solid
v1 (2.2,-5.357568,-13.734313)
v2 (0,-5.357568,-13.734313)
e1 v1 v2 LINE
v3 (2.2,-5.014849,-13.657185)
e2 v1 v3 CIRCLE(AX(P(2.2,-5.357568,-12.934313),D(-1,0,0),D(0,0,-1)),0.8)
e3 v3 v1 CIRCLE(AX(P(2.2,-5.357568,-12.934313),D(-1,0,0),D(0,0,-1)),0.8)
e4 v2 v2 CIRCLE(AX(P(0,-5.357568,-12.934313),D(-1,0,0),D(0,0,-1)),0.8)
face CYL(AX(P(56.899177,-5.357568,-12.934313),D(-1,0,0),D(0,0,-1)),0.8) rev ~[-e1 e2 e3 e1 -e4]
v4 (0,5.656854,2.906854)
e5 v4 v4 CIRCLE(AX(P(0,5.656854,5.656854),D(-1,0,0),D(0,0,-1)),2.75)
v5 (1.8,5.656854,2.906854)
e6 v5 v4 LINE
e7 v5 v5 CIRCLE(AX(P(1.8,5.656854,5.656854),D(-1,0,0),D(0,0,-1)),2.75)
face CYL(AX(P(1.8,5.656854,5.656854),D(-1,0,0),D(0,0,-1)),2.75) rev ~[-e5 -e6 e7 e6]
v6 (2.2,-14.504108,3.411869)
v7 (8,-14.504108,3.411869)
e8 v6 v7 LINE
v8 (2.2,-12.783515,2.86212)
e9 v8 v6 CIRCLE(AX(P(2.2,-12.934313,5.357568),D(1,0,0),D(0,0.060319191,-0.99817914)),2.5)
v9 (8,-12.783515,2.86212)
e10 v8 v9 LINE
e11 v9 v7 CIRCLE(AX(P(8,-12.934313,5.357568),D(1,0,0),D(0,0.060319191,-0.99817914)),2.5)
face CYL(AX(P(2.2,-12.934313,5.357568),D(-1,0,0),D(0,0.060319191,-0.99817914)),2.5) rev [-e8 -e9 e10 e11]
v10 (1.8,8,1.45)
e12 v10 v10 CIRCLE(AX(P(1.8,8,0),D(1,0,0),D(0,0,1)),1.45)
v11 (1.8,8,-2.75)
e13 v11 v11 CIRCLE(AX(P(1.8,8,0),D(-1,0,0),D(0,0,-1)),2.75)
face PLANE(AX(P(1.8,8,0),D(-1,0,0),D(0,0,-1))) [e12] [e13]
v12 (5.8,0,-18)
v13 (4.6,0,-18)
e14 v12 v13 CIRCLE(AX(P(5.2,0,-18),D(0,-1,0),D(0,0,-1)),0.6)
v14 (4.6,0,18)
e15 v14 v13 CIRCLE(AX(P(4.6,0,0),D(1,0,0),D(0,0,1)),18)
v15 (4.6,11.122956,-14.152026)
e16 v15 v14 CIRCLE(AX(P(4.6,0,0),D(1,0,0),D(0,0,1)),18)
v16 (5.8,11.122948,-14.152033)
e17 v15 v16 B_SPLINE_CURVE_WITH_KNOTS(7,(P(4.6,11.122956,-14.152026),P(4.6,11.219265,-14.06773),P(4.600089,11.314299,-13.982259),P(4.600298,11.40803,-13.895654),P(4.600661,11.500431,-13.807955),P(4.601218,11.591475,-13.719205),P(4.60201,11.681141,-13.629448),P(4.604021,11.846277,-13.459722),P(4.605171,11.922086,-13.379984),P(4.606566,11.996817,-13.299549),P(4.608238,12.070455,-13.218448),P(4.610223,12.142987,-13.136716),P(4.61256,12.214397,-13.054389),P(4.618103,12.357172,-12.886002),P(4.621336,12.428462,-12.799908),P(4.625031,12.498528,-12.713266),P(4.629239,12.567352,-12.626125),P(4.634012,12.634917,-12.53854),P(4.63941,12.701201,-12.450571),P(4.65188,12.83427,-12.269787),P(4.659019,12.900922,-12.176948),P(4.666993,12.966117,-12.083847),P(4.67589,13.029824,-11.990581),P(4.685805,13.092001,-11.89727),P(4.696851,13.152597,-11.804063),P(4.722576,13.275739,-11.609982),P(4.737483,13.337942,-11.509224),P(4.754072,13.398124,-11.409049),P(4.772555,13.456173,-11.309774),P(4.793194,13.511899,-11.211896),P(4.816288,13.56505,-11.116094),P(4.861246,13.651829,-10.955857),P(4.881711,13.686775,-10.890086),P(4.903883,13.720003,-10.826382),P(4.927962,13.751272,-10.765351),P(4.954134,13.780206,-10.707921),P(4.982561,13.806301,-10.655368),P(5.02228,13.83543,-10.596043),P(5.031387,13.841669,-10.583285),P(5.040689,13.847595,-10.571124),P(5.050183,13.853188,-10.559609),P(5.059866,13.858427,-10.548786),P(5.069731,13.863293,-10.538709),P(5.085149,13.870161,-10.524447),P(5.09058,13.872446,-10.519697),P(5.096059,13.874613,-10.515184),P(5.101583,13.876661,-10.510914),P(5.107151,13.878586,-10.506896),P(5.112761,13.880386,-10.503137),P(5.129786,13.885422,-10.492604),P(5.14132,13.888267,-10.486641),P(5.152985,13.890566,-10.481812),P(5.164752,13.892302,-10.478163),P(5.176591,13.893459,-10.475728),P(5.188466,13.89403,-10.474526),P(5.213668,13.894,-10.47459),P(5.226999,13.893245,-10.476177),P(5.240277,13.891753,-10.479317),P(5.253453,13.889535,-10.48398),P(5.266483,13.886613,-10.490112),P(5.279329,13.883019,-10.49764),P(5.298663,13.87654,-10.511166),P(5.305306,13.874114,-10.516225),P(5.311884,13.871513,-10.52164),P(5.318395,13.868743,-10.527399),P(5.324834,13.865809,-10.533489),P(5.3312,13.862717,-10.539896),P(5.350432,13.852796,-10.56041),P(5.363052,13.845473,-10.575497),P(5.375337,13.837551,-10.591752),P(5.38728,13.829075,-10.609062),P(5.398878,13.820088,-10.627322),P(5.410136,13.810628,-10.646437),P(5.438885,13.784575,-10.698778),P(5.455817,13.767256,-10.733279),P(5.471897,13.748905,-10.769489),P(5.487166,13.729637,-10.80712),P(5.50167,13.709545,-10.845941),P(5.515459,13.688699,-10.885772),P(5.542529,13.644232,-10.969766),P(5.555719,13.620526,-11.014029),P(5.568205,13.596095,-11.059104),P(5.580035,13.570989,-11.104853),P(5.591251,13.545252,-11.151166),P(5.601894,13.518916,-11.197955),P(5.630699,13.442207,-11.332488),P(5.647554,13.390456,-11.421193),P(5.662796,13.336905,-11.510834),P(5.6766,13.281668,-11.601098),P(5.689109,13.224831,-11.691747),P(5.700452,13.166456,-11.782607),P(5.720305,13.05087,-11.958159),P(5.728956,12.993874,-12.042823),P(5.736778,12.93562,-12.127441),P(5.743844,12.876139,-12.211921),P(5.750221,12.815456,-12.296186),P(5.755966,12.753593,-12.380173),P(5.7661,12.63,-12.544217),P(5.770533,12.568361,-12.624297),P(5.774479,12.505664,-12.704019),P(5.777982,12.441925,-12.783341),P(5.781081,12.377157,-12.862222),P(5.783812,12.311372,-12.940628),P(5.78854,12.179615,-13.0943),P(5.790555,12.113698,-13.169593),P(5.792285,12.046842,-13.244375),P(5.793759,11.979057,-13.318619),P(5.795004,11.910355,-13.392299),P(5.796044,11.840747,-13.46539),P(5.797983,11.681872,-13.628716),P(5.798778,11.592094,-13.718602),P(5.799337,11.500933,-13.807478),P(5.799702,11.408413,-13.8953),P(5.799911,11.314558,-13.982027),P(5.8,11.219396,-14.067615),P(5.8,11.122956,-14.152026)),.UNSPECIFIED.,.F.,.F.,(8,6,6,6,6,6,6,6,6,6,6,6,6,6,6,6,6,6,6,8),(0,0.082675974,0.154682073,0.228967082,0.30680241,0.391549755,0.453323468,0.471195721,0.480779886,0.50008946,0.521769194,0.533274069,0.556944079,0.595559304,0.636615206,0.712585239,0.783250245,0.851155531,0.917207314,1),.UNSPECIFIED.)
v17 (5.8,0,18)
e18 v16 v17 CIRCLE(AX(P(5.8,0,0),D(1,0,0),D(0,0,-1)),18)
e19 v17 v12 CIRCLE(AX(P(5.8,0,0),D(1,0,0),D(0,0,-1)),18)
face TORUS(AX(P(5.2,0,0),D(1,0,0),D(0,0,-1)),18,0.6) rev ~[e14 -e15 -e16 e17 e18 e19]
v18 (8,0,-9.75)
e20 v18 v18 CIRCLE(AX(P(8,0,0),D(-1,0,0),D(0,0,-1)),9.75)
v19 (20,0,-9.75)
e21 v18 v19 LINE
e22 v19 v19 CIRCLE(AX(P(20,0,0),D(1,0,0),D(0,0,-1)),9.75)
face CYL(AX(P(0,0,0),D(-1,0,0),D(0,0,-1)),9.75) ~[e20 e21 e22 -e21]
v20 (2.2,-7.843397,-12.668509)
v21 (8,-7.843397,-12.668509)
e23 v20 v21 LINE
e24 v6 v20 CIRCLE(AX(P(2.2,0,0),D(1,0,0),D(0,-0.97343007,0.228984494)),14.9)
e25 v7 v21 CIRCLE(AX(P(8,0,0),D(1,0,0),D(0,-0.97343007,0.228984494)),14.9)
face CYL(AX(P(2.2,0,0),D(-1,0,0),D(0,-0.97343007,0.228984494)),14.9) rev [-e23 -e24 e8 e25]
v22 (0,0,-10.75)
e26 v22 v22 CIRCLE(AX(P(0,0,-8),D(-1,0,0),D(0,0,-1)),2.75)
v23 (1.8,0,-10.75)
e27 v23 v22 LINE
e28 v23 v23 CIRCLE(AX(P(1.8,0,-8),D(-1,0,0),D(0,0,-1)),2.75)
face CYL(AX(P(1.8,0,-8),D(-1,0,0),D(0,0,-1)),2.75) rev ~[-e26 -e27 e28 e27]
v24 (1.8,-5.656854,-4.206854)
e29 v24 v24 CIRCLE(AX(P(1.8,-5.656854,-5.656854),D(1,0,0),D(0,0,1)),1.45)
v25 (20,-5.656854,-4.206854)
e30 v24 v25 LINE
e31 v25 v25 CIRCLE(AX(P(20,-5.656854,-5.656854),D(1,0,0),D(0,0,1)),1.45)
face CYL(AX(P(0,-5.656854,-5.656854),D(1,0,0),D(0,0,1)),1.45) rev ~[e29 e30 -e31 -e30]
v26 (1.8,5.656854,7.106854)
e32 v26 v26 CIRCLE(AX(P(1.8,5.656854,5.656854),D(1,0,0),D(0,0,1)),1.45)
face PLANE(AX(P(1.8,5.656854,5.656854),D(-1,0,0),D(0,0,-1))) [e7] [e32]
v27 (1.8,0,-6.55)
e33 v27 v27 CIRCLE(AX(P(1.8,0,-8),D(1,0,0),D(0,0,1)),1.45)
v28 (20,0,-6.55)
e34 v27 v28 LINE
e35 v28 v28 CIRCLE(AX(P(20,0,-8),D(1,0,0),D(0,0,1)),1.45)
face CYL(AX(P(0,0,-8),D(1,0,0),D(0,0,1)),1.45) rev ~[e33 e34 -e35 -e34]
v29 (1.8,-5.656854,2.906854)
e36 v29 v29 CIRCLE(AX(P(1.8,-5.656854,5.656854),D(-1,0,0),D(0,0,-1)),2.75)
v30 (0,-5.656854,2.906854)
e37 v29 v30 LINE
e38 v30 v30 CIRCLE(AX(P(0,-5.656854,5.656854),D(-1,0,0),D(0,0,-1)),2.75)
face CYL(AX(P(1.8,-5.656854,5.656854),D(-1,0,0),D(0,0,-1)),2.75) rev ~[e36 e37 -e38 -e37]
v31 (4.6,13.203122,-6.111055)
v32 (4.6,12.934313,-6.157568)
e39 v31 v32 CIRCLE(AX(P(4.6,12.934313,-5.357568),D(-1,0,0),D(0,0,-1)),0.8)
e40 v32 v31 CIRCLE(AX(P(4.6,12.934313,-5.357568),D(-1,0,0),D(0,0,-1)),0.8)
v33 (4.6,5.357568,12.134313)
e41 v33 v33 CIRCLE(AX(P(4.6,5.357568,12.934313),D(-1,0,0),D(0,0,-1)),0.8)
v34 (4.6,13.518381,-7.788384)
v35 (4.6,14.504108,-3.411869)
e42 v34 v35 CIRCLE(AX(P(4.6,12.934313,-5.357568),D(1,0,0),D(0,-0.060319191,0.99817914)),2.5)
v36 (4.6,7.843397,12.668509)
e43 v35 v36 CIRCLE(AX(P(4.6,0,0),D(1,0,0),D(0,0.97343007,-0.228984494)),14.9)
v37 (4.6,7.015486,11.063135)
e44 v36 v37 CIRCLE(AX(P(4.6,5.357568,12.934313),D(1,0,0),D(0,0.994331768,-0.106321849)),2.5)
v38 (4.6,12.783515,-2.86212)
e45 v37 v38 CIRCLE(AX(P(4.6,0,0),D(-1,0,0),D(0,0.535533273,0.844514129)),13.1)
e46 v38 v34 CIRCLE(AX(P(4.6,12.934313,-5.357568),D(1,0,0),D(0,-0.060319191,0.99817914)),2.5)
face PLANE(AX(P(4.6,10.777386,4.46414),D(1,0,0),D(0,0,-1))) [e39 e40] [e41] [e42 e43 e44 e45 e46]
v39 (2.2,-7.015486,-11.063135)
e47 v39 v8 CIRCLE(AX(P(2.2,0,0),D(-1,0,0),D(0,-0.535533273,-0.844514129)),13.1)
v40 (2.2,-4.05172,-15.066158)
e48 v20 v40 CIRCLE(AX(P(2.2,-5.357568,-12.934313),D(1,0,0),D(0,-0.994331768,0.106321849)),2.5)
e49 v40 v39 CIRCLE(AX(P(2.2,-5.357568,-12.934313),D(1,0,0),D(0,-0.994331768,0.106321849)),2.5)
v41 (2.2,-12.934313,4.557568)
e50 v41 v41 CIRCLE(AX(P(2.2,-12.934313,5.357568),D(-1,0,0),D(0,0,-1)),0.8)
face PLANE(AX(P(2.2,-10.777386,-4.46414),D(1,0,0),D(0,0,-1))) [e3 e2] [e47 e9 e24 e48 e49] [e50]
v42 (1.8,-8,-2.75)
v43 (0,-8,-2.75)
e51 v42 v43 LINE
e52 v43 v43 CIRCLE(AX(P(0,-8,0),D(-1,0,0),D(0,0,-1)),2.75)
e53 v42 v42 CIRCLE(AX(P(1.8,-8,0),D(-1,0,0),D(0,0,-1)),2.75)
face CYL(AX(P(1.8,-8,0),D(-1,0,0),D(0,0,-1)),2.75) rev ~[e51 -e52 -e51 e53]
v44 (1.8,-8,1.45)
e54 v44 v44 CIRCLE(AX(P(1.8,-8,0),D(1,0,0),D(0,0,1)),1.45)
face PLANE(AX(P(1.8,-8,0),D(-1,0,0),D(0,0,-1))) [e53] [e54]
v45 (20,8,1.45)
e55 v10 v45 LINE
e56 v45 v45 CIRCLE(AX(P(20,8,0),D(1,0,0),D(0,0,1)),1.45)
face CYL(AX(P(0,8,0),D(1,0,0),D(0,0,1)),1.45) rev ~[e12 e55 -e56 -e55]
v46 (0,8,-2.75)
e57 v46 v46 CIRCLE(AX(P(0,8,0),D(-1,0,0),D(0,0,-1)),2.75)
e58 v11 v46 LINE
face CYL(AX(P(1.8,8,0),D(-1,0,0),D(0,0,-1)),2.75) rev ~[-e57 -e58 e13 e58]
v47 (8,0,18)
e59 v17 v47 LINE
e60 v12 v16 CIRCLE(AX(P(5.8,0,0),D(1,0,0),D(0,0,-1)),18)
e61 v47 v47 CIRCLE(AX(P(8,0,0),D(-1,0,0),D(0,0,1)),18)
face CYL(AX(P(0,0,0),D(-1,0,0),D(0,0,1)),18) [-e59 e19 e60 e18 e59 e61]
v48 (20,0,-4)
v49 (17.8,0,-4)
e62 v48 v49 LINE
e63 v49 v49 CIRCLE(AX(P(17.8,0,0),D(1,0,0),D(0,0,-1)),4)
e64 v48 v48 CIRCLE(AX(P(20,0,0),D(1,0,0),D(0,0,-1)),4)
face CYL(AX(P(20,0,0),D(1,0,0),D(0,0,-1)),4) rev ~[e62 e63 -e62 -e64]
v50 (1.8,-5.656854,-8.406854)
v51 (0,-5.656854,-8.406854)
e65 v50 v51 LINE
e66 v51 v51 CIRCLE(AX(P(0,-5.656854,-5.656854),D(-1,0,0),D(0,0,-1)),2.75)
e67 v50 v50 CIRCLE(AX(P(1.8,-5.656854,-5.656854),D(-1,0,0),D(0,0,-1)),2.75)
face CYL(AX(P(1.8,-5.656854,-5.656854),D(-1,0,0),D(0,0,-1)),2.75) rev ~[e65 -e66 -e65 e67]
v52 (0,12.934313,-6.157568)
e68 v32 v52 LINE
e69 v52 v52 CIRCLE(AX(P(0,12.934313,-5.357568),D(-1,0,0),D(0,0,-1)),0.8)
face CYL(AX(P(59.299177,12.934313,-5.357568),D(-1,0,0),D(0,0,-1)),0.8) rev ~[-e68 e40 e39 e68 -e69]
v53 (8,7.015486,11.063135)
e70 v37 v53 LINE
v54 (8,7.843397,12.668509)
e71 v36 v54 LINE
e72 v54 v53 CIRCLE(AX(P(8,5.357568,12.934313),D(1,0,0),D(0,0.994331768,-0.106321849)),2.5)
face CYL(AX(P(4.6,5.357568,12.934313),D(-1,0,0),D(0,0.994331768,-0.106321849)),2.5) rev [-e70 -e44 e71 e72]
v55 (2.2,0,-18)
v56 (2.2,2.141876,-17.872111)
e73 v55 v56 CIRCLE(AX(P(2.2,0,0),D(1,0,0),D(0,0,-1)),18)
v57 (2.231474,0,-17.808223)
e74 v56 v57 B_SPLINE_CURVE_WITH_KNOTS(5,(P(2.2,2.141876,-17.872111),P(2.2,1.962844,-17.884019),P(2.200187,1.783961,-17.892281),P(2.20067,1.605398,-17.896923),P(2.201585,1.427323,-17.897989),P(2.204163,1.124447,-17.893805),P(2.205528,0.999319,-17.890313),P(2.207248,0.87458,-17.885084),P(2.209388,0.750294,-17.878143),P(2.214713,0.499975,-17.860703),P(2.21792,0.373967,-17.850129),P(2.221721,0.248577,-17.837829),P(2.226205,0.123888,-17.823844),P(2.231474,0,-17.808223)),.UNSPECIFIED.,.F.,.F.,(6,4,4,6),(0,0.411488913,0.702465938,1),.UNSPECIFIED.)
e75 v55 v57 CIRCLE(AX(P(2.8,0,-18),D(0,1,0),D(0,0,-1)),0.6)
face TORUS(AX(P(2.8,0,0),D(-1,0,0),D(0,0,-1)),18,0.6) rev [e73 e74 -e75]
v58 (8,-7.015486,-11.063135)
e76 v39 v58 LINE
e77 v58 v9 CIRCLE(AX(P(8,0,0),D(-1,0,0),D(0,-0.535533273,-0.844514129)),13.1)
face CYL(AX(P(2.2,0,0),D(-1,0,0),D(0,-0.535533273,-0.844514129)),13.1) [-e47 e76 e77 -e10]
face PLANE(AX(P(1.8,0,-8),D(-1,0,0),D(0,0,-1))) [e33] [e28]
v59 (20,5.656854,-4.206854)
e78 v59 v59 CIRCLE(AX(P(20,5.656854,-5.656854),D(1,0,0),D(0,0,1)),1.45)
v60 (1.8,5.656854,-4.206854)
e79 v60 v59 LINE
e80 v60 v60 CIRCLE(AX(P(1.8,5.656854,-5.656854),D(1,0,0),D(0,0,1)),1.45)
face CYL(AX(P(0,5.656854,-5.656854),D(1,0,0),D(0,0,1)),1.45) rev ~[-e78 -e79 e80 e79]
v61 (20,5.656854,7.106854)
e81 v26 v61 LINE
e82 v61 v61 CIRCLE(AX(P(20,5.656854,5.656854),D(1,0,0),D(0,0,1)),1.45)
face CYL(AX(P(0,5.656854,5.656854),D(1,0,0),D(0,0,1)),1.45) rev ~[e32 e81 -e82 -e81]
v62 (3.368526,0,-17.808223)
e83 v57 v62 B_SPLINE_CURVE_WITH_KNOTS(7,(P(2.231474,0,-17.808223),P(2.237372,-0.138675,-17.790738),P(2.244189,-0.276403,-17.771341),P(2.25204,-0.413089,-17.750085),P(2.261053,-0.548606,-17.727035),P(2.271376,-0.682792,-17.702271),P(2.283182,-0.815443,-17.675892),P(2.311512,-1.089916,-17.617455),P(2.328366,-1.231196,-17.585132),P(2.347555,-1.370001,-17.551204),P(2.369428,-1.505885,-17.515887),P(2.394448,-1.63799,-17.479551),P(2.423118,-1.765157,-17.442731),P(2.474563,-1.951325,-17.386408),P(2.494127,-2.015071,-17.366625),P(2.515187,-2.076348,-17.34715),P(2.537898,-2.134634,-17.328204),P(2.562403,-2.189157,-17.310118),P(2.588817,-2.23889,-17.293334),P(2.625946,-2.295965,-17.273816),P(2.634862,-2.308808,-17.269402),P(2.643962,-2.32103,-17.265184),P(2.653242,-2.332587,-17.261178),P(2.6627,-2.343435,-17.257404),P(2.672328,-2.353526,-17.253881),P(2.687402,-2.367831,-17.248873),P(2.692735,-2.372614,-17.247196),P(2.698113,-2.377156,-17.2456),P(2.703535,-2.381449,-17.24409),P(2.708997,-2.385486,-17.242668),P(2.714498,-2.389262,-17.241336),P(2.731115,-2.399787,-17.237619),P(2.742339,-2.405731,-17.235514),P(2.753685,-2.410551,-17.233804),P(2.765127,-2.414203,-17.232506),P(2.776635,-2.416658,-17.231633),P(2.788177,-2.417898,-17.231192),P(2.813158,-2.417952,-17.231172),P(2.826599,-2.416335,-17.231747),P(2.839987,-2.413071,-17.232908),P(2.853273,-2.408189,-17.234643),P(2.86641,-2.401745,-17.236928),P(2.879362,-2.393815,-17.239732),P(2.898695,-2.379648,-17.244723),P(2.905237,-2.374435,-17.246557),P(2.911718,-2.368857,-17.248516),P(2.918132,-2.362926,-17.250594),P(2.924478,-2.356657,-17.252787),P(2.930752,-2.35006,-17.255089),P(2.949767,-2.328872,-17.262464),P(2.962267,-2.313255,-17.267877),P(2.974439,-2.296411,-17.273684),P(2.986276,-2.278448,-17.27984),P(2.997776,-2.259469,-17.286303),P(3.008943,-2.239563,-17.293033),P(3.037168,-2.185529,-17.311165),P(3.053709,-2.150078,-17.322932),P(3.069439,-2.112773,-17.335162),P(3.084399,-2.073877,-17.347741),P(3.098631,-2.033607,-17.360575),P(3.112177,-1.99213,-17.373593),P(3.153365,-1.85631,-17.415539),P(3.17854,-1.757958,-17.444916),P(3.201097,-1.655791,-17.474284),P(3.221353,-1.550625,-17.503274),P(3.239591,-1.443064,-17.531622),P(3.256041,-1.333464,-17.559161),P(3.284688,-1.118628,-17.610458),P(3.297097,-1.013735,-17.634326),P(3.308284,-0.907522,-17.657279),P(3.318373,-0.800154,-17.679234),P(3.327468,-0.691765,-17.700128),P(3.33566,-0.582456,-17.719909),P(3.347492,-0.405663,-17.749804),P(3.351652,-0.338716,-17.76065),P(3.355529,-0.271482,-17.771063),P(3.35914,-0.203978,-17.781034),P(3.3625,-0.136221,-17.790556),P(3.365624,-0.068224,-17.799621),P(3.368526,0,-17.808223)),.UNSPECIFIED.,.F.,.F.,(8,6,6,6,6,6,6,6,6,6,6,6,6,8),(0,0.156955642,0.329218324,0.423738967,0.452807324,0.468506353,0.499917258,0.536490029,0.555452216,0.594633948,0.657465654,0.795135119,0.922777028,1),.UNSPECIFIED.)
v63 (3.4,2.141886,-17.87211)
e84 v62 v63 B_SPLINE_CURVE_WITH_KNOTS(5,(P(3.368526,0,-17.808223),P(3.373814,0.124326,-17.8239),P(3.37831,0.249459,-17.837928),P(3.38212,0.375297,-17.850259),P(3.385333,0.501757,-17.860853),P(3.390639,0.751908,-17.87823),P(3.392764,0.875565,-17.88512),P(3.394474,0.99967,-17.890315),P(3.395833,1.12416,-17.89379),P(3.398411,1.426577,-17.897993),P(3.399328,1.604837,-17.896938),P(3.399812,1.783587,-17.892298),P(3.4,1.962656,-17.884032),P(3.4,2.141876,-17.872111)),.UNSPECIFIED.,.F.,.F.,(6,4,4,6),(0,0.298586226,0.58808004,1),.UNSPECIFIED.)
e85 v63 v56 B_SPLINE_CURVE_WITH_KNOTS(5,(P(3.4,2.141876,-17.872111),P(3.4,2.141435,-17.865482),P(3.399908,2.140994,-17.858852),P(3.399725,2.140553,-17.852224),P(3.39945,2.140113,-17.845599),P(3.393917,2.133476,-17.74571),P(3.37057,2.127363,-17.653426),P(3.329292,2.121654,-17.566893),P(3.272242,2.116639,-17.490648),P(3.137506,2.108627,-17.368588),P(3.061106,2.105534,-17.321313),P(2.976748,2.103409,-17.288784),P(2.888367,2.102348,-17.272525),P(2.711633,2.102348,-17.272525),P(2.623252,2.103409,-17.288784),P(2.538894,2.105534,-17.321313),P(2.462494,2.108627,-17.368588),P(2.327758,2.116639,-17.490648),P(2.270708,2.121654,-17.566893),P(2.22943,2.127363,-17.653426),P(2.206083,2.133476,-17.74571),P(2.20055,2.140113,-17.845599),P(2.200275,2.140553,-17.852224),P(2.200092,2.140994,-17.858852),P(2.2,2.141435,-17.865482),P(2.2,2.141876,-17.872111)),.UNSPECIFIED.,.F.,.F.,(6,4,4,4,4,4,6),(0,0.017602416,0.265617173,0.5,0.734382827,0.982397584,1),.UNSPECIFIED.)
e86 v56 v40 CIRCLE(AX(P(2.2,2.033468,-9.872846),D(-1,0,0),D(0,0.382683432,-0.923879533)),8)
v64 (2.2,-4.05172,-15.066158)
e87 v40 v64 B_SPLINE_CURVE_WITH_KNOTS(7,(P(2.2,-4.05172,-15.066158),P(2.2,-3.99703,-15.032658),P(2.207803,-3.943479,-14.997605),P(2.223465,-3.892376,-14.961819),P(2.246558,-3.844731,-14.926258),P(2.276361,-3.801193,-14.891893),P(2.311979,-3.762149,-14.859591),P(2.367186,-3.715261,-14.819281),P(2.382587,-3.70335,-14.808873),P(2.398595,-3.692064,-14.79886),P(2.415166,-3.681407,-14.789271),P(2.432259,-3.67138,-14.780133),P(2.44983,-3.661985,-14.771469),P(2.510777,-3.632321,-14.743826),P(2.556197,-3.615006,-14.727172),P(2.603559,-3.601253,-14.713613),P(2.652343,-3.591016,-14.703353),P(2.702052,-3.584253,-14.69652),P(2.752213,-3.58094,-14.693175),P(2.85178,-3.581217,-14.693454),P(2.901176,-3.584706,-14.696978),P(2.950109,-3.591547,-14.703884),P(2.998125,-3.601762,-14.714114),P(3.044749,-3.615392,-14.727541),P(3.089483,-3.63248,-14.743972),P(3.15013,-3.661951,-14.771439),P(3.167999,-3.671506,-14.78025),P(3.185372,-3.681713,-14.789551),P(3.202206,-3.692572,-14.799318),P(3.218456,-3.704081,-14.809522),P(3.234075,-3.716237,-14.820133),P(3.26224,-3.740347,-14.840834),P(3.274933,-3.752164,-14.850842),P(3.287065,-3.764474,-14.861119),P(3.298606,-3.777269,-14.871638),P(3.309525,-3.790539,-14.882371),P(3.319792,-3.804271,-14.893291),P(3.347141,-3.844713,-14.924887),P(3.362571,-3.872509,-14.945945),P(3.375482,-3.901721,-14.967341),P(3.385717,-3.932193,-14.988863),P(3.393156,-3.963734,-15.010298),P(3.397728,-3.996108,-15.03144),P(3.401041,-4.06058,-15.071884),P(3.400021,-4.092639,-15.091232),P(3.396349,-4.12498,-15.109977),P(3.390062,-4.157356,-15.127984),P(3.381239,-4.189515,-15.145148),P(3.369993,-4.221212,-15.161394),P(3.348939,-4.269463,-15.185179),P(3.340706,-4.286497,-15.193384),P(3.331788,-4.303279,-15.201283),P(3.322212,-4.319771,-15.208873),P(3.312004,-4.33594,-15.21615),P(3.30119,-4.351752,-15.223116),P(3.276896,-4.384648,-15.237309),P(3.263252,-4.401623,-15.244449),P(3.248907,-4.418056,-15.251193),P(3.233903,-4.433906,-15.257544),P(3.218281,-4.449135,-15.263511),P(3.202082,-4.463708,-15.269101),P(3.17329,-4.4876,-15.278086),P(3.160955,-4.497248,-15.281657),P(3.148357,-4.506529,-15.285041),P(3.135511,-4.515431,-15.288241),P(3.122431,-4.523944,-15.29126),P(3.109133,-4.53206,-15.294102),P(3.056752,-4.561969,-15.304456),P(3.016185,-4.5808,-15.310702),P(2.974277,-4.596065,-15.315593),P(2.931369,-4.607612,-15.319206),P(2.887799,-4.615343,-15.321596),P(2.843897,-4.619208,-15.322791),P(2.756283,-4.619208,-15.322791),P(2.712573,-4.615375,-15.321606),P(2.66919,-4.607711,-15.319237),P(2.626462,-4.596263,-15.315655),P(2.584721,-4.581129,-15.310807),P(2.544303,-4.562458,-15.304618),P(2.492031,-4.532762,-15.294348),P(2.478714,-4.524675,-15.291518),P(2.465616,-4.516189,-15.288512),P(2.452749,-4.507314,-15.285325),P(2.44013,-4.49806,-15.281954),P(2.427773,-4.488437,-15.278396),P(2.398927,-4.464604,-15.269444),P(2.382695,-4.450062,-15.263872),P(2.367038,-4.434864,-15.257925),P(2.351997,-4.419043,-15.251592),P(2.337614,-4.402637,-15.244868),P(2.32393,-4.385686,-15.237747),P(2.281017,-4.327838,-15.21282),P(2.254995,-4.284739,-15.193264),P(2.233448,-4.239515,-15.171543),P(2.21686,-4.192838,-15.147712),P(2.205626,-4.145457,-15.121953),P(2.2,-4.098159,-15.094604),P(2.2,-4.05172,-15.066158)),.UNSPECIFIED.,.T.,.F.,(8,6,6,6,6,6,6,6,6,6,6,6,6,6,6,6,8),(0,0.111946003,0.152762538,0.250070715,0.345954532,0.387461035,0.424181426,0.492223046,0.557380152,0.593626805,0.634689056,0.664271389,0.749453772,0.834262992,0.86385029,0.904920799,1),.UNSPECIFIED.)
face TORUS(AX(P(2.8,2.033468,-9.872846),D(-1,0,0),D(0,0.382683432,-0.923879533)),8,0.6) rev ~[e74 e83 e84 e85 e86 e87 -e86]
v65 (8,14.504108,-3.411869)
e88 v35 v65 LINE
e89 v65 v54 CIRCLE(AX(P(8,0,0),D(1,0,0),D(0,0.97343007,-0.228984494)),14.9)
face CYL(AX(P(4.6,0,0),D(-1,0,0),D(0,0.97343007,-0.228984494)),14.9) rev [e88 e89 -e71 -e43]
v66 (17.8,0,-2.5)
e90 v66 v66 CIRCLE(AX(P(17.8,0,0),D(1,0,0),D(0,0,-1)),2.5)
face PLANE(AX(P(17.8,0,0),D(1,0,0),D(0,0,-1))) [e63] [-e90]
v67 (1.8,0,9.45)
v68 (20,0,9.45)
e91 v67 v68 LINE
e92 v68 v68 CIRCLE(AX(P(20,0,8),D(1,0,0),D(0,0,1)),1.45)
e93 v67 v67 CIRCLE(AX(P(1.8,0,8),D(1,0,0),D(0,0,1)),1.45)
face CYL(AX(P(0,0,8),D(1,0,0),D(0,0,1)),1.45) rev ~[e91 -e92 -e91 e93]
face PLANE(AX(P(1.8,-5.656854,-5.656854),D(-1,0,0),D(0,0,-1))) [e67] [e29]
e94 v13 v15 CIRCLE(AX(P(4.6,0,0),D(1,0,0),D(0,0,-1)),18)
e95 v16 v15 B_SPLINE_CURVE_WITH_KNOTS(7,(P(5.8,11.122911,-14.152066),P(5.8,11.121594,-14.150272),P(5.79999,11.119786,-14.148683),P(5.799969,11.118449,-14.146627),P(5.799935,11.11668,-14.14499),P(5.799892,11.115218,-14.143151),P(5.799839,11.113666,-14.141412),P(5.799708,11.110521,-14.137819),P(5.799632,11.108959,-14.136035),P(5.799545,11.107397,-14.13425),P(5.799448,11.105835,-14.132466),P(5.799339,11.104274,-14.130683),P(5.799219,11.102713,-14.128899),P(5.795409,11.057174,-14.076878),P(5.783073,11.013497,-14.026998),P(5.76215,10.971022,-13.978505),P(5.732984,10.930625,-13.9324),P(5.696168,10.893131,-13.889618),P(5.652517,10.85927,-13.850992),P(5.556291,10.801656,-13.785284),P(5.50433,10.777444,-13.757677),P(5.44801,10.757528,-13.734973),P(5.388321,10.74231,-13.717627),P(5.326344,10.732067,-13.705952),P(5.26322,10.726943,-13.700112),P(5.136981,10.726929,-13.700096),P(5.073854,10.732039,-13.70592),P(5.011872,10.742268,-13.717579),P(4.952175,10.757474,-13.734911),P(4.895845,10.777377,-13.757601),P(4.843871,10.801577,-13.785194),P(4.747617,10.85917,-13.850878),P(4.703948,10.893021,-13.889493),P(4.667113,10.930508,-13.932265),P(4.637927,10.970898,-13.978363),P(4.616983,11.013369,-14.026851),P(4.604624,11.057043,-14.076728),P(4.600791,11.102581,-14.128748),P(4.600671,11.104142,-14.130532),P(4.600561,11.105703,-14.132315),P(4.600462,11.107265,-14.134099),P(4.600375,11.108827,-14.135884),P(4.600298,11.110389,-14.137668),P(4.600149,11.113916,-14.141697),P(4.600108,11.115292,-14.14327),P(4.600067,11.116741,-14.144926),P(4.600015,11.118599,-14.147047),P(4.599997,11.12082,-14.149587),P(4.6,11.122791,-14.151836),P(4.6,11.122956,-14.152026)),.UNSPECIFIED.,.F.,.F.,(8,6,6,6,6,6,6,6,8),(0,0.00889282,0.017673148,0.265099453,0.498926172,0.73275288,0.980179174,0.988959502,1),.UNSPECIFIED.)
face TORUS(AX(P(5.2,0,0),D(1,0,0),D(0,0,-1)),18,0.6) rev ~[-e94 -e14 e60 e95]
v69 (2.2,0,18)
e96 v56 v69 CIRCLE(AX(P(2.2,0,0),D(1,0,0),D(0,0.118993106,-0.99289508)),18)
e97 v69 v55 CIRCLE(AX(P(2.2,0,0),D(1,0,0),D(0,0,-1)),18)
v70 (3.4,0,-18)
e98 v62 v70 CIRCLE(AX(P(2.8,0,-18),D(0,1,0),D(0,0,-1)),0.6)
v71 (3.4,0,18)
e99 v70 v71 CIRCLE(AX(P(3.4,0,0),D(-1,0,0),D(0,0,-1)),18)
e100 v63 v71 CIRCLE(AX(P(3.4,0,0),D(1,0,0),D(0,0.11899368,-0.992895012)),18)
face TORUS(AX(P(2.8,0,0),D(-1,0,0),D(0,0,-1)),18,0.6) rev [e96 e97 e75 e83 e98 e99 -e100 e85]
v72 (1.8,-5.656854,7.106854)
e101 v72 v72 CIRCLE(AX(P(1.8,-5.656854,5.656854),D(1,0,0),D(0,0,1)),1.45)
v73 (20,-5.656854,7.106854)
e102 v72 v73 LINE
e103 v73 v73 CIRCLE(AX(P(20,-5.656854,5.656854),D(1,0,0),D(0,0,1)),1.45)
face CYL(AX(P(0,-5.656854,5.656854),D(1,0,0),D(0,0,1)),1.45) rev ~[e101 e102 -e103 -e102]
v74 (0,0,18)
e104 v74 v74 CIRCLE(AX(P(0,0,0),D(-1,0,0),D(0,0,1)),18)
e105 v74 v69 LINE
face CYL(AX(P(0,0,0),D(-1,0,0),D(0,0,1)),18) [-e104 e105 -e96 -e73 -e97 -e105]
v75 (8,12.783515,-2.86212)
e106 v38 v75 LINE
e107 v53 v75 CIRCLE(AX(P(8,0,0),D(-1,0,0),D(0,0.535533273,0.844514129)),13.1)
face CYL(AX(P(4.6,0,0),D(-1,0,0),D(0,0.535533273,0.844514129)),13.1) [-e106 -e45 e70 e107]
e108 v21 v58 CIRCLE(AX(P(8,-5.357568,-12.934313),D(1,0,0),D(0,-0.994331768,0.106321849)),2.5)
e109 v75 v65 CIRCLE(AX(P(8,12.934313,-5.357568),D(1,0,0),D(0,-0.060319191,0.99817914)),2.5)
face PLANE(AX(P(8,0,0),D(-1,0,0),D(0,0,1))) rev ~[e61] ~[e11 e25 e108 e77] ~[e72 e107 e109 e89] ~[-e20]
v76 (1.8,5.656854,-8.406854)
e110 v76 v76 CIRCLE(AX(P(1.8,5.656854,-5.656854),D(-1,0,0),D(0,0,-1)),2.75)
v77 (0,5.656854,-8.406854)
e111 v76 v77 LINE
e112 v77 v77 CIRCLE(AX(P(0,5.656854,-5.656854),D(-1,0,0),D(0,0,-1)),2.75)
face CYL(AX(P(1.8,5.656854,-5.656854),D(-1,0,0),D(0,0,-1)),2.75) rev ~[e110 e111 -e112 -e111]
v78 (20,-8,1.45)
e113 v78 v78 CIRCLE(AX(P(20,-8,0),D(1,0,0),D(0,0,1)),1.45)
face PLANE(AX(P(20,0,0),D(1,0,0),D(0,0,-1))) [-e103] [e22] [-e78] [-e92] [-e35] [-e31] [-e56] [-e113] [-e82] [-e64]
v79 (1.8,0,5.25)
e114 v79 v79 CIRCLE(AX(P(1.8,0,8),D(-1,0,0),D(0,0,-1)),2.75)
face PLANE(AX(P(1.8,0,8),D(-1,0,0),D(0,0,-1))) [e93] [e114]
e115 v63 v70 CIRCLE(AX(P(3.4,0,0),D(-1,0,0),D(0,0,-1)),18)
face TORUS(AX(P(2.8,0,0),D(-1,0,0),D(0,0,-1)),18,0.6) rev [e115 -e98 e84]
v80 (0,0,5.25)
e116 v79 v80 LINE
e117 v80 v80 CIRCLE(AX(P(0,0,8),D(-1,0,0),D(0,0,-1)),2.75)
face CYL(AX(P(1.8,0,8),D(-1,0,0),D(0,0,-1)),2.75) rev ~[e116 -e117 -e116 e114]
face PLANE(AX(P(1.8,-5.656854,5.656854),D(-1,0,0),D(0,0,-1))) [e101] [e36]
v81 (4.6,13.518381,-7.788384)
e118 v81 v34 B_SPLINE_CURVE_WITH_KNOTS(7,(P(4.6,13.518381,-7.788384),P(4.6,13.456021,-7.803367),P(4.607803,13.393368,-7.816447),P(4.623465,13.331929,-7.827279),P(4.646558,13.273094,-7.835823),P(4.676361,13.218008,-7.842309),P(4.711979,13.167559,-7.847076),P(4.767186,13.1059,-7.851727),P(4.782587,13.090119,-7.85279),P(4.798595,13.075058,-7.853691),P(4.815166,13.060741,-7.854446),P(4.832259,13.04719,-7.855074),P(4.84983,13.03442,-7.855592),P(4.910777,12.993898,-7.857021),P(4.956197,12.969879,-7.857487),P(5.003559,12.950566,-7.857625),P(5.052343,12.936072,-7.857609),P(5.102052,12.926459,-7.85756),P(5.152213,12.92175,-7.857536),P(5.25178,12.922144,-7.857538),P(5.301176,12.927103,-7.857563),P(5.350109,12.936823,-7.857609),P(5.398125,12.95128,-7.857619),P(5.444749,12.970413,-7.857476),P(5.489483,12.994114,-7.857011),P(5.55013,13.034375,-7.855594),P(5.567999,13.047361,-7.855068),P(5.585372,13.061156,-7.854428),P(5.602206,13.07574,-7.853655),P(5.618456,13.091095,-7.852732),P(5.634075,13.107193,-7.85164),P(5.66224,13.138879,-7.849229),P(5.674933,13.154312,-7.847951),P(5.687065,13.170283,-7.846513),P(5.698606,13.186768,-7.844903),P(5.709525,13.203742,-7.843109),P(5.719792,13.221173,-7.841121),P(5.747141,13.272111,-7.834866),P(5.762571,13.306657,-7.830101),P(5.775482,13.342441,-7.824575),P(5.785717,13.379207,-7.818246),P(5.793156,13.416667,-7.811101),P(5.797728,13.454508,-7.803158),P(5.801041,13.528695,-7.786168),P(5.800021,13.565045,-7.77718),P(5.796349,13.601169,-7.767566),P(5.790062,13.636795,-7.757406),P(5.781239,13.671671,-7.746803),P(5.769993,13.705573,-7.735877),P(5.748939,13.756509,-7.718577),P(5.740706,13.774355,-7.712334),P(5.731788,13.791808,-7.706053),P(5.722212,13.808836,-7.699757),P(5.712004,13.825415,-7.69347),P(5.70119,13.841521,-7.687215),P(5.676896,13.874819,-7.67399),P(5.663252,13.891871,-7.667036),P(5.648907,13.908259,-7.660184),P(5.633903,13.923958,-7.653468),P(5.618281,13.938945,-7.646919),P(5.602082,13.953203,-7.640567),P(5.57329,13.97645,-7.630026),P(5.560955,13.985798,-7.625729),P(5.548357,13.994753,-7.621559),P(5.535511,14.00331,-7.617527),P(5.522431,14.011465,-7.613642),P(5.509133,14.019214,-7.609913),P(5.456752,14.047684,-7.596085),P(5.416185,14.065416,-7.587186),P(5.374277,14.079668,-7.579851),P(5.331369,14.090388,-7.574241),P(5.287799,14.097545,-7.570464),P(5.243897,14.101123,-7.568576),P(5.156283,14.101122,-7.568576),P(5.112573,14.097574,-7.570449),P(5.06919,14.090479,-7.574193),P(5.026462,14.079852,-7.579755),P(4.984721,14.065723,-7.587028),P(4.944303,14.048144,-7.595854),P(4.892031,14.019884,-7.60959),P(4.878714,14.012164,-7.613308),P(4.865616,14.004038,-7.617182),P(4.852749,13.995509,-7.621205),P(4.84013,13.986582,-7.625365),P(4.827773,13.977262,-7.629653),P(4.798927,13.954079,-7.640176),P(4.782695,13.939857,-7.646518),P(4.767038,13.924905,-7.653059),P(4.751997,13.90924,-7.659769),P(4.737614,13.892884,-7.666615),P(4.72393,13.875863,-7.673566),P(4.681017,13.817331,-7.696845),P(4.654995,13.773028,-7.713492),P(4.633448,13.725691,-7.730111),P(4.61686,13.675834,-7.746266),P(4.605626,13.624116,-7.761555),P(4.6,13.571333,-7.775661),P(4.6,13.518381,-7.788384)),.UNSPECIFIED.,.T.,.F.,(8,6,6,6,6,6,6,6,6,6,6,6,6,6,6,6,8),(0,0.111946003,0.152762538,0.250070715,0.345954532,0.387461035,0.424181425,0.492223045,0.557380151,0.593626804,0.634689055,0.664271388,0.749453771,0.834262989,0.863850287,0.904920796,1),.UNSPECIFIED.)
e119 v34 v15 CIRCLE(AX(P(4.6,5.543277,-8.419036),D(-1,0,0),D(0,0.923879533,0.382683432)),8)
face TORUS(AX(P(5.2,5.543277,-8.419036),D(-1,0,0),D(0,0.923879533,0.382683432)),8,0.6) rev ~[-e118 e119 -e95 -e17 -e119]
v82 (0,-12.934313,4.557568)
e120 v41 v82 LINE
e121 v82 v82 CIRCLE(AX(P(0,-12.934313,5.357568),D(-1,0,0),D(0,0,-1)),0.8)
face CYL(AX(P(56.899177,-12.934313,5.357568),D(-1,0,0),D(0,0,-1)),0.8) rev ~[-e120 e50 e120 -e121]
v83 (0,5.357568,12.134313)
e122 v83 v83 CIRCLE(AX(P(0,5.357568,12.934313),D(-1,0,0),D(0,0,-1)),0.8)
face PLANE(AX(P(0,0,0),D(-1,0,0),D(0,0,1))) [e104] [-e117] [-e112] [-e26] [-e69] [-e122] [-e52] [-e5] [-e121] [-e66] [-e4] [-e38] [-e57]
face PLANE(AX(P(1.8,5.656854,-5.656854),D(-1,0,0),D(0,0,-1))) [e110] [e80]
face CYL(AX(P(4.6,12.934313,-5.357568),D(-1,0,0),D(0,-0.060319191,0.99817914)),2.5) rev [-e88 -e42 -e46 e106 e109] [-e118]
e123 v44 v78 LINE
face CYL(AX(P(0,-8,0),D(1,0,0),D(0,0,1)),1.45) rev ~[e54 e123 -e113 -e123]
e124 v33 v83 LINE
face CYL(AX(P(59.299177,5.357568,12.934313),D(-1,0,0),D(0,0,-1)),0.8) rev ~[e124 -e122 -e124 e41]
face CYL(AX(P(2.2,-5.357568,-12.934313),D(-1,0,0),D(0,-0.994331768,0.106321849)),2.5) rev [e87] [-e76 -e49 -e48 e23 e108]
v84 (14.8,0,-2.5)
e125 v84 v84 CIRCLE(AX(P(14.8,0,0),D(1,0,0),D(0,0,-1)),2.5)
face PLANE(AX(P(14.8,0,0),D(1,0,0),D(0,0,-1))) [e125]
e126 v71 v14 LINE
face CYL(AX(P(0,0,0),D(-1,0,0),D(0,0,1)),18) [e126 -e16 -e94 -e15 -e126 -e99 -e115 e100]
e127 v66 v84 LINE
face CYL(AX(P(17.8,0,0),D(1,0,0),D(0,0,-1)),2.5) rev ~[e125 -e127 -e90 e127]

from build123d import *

# Parameters (mm, degrees)
SKETCH1_R                                       = 9.75
BOSS_EXTRUDE1_DEPTH                             = 20
SKETCH3_R                                       = 4
CUT_EXTRUDE1_DEPTH                              = 2.2
SKETCH5_R                                       = 18
BOSS_EXTRUDE3_DEPTH                             = 8
CBORE_FOR_M2_5_CHEESE_SLOTTED_HEAD2_D           = 2.9
CBORE_FOR_M2_5_CHEESE_SLOTTED_HEAD2_CBORE_D     = 5.5
CBORE_FOR_M2_5_CHEESE_SLOTTED_HEAD2_CBORE_DEPTH = 1.8
SKETCH4_R                                       = 2.5
CUT_EXTRUDE2_DEPTH                              = 3
SKETCH12_R                                      = 0.6
CUT_EXTRUDE3_START                              = -3.4
CUT_EXTRUDE3_DEPTH                              = 3.4
CUT_EXTRUDE4_START                              = -5.8
CUT_EXTRUDE4_DEPTH                              = 5.8
M2_TAPPED_HOLE2_D                               = 1.6
M2_TAPPED_HOLE3_D                               = 1.6
SKETCH27_R                                      = 0.6
SKETCH31_R                                      = 0.6


with BuildPart() as part:
    # Sketch1 → Boss-Extrude1 (new body)
    with BuildSketch(Plane(origin=(0, 0, 0), x_dir=(0, 0, -1), z_dir=(1, 0, 0))):
        Circle(SKETCH1_R)
    extrude(amount=BOSS_EXTRUDE1_DEPTH)

    # Sketch3 → Cut-Extrude1 (cut)
    with BuildSketch(Plane(origin=(20, 0, 0), x_dir=(0, 0, -1), z_dir=(1, 0, 0))):
        Circle(SKETCH3_R)
    extrude(amount=-CUT_EXTRUDE1_DEPTH, mode=Mode.SUBTRACT)

    # Sketch5 → Boss-Extrude3 (add)
    with BuildSketch(Plane.ZY):
        Circle(SKETCH5_R)
    extrude(amount=-BOSS_EXTRUDE3_DEPTH)

    # CBORE for M2.5 Cheese Slotted Head2 (through all)
    with Locations(Plane(origin=(0, 0, -8), x_dir=(0, 0, -1), z_dir=(-1, 0, 0))):
        with Locations((0, 0), (-2.343145751, -5.656854249), (-8, -8), (-13.656854249, -5.656854249), (-16, 0), (-13.656854249, 5.656854249), (-8, 8), (-2.343145751, 5.656854249)):
            CounterBoreHole(CBORE_FOR_M2_5_CHEESE_SLOTTED_HEAD2_D / 2, CBORE_FOR_M2_5_CHEESE_SLOTTED_HEAD2_CBORE_D / 2, CBORE_FOR_M2_5_CHEESE_SLOTTED_HEAD2_CBORE_DEPTH)

    # Sketch4 → Cut-Extrude2 (cut)
    with BuildSketch(Plane(origin=(17.8, 0, 0), x_dir=(0, 0, -1), z_dir=(1, 0, 0))):
        Circle(SKETCH4_R)
    extrude(amount=-CUT_EXTRUDE2_DEPTH, mode=Mode.SUBTRACT)

    # Cut-Sweep1: sweep along a path in Sketch9
    with BuildLine(Plane(origin=(5.2, 0, 0), x_dir=(0, 0, -1), z_dir=(1, 0, 0))) as cut_sweep1_path:
        CenterArc((0, 0), 16, 0, 360)
    # Sketch12 → Cut-Sweep1 (sweep, cut)
    with BuildSketch(Plane.XY):
        with Locations((5.2, 18)):
            Circle(SKETCH12_R)
    cut_sweep1 = sweep(path=cut_sweep1_path.line, mode=Mode.SUBTRACT)

    # Mirror1: Cut-Sweep1 across plane
    add(cut_sweep1.mirror(Plane(origin=(4, 0, 0), x_dir=(0, 0, 1), z_dir=(1, 0, 0))), mode=Mode.SUBTRACT)

    # Sketch15 → Cut-Extrude3 (cut)
    with BuildSketch(Plane(origin=(8, 0, 0), x_dir=(0, 0, -1), z_dir=(1, 0, 0)).offset(CUT_EXTRUDE3_START)):
        with BuildLine():
            ThreePointArc((2.862120204, 12.783515477), (7.73896601, 12.173429909), (3.411868964, 14.504108045))
            ThreePointArc((3.411868964, 14.504108045), (-5.701983142, 13.765805034), (-12.668508834, 7.843397473))
            ThreePointArc((-12.668508834, 7.843397473), (-14.080190184, 3.135639494), (-11.063135085, 7.015485876))
            ThreePointArc((-11.063135085, 7.015485876), (-5.013152964, 12.102821876), (2.862120204, 12.783515477))
        make_face()
    extrude(amount=CUT_EXTRUDE3_DEPTH, mode=Mode.SUBTRACT)

    # Sketch17 → Cut-Extrude4 (cut)
    with BuildSketch(Plane(origin=(8, 0, 0), x_dir=(0, 0, -1), z_dir=(1, 0, 0)).offset(CUT_EXTRUDE4_START)):
        with BuildLine():
            ThreePointArc((-2.862120204, -12.783515477), (-7.73896601, -12.173429909), (-3.411868964, -14.504108045))
            ThreePointArc((-3.411868964, -14.504108045), (5.701983142, -13.765805034), (12.668508834, -7.843397473))
            ThreePointArc((12.668508834, -7.843397473), (14.080190184, -3.135639494), (11.063135085, -7.015485876))
            ThreePointArc((11.063135085, -7.015485876), (5.013152964, -12.102821876), (-2.862120204, -12.783515477))
        make_face()
    extrude(amount=CUT_EXTRUDE4_DEPTH, mode=Mode.SUBTRACT)

    # M2 Tapped Hole2 (through all)
    with Locations(Plane(origin=(4.6, 5.357568053, 12.934313455), x_dir=(0, 0, 1), z_dir=(1, 0, 0))):
        with Locations((0, 0), (-18.291881508, -7.576745402)):
            Hole(M2_TAPPED_HOLE2_D / 2)

    # M2 Tapped Hole3 (through all)
    with Locations(Plane(origin=(2.2, -12.934313455, 5.357568053), x_dir=(0, 0, 1), z_dir=(1, 0, 0))):
        with Locations((0, 0), (-18.291881508, -7.576745402)):
            Hole(M2_TAPPED_HOLE3_D / 2)

    # Cut-Sweep2: sweep along a path in Sketch26
    with BuildLine(Plane(origin=(5.2, 0, 0), x_dir=(0, 0, -1), z_dir=(1, 0, 0))) as cut_sweep2_path:
        ThreePointArc((5.357568053, 12.934313455), (11.480502971, 12.934313455), (15.810071772, 8.604744654))
    # Sketch27 → Cut-Sweep2 (sweep, cut)
    with BuildSketch(Plane(origin=(5.2, 8.604744654, -15.810071772), x_dir=(-1, 0, 0), z_dir=(0, -0.923879532511291, -0.38268343236508007))):
        Circle(SKETCH27_R)
    sweep(path=cut_sweep2_path.line, mode=Mode.SUBTRACT)

    # Cut-Sweep3: sweep along a path in Sketch29
    with BuildLine(Plane(origin=(2.8, 0, 0), x_dir=(0, 0, -1), z_dir=(1, 0, 0))) as cut_sweep3_path:
        ThreePointArc((17.263882256, 5.094935666), (17.263882256, -1.027999252), (12.934313455, -5.357568053))
    # Sketch31 → Cut-Sweep3 (sweep, cut)
    with BuildSketch(Plane(origin=(2.8, 5.094935666, -17.263882256), x_dir=(-1, 0, 0), z_dir=(0, -0.9238795325113144, -0.38268343236502306))):
        Circle(SKETCH31_R)
    sweep(path=cut_sweep3_path.line, mode=Mode.SUBTRACT)


solid = part.part
